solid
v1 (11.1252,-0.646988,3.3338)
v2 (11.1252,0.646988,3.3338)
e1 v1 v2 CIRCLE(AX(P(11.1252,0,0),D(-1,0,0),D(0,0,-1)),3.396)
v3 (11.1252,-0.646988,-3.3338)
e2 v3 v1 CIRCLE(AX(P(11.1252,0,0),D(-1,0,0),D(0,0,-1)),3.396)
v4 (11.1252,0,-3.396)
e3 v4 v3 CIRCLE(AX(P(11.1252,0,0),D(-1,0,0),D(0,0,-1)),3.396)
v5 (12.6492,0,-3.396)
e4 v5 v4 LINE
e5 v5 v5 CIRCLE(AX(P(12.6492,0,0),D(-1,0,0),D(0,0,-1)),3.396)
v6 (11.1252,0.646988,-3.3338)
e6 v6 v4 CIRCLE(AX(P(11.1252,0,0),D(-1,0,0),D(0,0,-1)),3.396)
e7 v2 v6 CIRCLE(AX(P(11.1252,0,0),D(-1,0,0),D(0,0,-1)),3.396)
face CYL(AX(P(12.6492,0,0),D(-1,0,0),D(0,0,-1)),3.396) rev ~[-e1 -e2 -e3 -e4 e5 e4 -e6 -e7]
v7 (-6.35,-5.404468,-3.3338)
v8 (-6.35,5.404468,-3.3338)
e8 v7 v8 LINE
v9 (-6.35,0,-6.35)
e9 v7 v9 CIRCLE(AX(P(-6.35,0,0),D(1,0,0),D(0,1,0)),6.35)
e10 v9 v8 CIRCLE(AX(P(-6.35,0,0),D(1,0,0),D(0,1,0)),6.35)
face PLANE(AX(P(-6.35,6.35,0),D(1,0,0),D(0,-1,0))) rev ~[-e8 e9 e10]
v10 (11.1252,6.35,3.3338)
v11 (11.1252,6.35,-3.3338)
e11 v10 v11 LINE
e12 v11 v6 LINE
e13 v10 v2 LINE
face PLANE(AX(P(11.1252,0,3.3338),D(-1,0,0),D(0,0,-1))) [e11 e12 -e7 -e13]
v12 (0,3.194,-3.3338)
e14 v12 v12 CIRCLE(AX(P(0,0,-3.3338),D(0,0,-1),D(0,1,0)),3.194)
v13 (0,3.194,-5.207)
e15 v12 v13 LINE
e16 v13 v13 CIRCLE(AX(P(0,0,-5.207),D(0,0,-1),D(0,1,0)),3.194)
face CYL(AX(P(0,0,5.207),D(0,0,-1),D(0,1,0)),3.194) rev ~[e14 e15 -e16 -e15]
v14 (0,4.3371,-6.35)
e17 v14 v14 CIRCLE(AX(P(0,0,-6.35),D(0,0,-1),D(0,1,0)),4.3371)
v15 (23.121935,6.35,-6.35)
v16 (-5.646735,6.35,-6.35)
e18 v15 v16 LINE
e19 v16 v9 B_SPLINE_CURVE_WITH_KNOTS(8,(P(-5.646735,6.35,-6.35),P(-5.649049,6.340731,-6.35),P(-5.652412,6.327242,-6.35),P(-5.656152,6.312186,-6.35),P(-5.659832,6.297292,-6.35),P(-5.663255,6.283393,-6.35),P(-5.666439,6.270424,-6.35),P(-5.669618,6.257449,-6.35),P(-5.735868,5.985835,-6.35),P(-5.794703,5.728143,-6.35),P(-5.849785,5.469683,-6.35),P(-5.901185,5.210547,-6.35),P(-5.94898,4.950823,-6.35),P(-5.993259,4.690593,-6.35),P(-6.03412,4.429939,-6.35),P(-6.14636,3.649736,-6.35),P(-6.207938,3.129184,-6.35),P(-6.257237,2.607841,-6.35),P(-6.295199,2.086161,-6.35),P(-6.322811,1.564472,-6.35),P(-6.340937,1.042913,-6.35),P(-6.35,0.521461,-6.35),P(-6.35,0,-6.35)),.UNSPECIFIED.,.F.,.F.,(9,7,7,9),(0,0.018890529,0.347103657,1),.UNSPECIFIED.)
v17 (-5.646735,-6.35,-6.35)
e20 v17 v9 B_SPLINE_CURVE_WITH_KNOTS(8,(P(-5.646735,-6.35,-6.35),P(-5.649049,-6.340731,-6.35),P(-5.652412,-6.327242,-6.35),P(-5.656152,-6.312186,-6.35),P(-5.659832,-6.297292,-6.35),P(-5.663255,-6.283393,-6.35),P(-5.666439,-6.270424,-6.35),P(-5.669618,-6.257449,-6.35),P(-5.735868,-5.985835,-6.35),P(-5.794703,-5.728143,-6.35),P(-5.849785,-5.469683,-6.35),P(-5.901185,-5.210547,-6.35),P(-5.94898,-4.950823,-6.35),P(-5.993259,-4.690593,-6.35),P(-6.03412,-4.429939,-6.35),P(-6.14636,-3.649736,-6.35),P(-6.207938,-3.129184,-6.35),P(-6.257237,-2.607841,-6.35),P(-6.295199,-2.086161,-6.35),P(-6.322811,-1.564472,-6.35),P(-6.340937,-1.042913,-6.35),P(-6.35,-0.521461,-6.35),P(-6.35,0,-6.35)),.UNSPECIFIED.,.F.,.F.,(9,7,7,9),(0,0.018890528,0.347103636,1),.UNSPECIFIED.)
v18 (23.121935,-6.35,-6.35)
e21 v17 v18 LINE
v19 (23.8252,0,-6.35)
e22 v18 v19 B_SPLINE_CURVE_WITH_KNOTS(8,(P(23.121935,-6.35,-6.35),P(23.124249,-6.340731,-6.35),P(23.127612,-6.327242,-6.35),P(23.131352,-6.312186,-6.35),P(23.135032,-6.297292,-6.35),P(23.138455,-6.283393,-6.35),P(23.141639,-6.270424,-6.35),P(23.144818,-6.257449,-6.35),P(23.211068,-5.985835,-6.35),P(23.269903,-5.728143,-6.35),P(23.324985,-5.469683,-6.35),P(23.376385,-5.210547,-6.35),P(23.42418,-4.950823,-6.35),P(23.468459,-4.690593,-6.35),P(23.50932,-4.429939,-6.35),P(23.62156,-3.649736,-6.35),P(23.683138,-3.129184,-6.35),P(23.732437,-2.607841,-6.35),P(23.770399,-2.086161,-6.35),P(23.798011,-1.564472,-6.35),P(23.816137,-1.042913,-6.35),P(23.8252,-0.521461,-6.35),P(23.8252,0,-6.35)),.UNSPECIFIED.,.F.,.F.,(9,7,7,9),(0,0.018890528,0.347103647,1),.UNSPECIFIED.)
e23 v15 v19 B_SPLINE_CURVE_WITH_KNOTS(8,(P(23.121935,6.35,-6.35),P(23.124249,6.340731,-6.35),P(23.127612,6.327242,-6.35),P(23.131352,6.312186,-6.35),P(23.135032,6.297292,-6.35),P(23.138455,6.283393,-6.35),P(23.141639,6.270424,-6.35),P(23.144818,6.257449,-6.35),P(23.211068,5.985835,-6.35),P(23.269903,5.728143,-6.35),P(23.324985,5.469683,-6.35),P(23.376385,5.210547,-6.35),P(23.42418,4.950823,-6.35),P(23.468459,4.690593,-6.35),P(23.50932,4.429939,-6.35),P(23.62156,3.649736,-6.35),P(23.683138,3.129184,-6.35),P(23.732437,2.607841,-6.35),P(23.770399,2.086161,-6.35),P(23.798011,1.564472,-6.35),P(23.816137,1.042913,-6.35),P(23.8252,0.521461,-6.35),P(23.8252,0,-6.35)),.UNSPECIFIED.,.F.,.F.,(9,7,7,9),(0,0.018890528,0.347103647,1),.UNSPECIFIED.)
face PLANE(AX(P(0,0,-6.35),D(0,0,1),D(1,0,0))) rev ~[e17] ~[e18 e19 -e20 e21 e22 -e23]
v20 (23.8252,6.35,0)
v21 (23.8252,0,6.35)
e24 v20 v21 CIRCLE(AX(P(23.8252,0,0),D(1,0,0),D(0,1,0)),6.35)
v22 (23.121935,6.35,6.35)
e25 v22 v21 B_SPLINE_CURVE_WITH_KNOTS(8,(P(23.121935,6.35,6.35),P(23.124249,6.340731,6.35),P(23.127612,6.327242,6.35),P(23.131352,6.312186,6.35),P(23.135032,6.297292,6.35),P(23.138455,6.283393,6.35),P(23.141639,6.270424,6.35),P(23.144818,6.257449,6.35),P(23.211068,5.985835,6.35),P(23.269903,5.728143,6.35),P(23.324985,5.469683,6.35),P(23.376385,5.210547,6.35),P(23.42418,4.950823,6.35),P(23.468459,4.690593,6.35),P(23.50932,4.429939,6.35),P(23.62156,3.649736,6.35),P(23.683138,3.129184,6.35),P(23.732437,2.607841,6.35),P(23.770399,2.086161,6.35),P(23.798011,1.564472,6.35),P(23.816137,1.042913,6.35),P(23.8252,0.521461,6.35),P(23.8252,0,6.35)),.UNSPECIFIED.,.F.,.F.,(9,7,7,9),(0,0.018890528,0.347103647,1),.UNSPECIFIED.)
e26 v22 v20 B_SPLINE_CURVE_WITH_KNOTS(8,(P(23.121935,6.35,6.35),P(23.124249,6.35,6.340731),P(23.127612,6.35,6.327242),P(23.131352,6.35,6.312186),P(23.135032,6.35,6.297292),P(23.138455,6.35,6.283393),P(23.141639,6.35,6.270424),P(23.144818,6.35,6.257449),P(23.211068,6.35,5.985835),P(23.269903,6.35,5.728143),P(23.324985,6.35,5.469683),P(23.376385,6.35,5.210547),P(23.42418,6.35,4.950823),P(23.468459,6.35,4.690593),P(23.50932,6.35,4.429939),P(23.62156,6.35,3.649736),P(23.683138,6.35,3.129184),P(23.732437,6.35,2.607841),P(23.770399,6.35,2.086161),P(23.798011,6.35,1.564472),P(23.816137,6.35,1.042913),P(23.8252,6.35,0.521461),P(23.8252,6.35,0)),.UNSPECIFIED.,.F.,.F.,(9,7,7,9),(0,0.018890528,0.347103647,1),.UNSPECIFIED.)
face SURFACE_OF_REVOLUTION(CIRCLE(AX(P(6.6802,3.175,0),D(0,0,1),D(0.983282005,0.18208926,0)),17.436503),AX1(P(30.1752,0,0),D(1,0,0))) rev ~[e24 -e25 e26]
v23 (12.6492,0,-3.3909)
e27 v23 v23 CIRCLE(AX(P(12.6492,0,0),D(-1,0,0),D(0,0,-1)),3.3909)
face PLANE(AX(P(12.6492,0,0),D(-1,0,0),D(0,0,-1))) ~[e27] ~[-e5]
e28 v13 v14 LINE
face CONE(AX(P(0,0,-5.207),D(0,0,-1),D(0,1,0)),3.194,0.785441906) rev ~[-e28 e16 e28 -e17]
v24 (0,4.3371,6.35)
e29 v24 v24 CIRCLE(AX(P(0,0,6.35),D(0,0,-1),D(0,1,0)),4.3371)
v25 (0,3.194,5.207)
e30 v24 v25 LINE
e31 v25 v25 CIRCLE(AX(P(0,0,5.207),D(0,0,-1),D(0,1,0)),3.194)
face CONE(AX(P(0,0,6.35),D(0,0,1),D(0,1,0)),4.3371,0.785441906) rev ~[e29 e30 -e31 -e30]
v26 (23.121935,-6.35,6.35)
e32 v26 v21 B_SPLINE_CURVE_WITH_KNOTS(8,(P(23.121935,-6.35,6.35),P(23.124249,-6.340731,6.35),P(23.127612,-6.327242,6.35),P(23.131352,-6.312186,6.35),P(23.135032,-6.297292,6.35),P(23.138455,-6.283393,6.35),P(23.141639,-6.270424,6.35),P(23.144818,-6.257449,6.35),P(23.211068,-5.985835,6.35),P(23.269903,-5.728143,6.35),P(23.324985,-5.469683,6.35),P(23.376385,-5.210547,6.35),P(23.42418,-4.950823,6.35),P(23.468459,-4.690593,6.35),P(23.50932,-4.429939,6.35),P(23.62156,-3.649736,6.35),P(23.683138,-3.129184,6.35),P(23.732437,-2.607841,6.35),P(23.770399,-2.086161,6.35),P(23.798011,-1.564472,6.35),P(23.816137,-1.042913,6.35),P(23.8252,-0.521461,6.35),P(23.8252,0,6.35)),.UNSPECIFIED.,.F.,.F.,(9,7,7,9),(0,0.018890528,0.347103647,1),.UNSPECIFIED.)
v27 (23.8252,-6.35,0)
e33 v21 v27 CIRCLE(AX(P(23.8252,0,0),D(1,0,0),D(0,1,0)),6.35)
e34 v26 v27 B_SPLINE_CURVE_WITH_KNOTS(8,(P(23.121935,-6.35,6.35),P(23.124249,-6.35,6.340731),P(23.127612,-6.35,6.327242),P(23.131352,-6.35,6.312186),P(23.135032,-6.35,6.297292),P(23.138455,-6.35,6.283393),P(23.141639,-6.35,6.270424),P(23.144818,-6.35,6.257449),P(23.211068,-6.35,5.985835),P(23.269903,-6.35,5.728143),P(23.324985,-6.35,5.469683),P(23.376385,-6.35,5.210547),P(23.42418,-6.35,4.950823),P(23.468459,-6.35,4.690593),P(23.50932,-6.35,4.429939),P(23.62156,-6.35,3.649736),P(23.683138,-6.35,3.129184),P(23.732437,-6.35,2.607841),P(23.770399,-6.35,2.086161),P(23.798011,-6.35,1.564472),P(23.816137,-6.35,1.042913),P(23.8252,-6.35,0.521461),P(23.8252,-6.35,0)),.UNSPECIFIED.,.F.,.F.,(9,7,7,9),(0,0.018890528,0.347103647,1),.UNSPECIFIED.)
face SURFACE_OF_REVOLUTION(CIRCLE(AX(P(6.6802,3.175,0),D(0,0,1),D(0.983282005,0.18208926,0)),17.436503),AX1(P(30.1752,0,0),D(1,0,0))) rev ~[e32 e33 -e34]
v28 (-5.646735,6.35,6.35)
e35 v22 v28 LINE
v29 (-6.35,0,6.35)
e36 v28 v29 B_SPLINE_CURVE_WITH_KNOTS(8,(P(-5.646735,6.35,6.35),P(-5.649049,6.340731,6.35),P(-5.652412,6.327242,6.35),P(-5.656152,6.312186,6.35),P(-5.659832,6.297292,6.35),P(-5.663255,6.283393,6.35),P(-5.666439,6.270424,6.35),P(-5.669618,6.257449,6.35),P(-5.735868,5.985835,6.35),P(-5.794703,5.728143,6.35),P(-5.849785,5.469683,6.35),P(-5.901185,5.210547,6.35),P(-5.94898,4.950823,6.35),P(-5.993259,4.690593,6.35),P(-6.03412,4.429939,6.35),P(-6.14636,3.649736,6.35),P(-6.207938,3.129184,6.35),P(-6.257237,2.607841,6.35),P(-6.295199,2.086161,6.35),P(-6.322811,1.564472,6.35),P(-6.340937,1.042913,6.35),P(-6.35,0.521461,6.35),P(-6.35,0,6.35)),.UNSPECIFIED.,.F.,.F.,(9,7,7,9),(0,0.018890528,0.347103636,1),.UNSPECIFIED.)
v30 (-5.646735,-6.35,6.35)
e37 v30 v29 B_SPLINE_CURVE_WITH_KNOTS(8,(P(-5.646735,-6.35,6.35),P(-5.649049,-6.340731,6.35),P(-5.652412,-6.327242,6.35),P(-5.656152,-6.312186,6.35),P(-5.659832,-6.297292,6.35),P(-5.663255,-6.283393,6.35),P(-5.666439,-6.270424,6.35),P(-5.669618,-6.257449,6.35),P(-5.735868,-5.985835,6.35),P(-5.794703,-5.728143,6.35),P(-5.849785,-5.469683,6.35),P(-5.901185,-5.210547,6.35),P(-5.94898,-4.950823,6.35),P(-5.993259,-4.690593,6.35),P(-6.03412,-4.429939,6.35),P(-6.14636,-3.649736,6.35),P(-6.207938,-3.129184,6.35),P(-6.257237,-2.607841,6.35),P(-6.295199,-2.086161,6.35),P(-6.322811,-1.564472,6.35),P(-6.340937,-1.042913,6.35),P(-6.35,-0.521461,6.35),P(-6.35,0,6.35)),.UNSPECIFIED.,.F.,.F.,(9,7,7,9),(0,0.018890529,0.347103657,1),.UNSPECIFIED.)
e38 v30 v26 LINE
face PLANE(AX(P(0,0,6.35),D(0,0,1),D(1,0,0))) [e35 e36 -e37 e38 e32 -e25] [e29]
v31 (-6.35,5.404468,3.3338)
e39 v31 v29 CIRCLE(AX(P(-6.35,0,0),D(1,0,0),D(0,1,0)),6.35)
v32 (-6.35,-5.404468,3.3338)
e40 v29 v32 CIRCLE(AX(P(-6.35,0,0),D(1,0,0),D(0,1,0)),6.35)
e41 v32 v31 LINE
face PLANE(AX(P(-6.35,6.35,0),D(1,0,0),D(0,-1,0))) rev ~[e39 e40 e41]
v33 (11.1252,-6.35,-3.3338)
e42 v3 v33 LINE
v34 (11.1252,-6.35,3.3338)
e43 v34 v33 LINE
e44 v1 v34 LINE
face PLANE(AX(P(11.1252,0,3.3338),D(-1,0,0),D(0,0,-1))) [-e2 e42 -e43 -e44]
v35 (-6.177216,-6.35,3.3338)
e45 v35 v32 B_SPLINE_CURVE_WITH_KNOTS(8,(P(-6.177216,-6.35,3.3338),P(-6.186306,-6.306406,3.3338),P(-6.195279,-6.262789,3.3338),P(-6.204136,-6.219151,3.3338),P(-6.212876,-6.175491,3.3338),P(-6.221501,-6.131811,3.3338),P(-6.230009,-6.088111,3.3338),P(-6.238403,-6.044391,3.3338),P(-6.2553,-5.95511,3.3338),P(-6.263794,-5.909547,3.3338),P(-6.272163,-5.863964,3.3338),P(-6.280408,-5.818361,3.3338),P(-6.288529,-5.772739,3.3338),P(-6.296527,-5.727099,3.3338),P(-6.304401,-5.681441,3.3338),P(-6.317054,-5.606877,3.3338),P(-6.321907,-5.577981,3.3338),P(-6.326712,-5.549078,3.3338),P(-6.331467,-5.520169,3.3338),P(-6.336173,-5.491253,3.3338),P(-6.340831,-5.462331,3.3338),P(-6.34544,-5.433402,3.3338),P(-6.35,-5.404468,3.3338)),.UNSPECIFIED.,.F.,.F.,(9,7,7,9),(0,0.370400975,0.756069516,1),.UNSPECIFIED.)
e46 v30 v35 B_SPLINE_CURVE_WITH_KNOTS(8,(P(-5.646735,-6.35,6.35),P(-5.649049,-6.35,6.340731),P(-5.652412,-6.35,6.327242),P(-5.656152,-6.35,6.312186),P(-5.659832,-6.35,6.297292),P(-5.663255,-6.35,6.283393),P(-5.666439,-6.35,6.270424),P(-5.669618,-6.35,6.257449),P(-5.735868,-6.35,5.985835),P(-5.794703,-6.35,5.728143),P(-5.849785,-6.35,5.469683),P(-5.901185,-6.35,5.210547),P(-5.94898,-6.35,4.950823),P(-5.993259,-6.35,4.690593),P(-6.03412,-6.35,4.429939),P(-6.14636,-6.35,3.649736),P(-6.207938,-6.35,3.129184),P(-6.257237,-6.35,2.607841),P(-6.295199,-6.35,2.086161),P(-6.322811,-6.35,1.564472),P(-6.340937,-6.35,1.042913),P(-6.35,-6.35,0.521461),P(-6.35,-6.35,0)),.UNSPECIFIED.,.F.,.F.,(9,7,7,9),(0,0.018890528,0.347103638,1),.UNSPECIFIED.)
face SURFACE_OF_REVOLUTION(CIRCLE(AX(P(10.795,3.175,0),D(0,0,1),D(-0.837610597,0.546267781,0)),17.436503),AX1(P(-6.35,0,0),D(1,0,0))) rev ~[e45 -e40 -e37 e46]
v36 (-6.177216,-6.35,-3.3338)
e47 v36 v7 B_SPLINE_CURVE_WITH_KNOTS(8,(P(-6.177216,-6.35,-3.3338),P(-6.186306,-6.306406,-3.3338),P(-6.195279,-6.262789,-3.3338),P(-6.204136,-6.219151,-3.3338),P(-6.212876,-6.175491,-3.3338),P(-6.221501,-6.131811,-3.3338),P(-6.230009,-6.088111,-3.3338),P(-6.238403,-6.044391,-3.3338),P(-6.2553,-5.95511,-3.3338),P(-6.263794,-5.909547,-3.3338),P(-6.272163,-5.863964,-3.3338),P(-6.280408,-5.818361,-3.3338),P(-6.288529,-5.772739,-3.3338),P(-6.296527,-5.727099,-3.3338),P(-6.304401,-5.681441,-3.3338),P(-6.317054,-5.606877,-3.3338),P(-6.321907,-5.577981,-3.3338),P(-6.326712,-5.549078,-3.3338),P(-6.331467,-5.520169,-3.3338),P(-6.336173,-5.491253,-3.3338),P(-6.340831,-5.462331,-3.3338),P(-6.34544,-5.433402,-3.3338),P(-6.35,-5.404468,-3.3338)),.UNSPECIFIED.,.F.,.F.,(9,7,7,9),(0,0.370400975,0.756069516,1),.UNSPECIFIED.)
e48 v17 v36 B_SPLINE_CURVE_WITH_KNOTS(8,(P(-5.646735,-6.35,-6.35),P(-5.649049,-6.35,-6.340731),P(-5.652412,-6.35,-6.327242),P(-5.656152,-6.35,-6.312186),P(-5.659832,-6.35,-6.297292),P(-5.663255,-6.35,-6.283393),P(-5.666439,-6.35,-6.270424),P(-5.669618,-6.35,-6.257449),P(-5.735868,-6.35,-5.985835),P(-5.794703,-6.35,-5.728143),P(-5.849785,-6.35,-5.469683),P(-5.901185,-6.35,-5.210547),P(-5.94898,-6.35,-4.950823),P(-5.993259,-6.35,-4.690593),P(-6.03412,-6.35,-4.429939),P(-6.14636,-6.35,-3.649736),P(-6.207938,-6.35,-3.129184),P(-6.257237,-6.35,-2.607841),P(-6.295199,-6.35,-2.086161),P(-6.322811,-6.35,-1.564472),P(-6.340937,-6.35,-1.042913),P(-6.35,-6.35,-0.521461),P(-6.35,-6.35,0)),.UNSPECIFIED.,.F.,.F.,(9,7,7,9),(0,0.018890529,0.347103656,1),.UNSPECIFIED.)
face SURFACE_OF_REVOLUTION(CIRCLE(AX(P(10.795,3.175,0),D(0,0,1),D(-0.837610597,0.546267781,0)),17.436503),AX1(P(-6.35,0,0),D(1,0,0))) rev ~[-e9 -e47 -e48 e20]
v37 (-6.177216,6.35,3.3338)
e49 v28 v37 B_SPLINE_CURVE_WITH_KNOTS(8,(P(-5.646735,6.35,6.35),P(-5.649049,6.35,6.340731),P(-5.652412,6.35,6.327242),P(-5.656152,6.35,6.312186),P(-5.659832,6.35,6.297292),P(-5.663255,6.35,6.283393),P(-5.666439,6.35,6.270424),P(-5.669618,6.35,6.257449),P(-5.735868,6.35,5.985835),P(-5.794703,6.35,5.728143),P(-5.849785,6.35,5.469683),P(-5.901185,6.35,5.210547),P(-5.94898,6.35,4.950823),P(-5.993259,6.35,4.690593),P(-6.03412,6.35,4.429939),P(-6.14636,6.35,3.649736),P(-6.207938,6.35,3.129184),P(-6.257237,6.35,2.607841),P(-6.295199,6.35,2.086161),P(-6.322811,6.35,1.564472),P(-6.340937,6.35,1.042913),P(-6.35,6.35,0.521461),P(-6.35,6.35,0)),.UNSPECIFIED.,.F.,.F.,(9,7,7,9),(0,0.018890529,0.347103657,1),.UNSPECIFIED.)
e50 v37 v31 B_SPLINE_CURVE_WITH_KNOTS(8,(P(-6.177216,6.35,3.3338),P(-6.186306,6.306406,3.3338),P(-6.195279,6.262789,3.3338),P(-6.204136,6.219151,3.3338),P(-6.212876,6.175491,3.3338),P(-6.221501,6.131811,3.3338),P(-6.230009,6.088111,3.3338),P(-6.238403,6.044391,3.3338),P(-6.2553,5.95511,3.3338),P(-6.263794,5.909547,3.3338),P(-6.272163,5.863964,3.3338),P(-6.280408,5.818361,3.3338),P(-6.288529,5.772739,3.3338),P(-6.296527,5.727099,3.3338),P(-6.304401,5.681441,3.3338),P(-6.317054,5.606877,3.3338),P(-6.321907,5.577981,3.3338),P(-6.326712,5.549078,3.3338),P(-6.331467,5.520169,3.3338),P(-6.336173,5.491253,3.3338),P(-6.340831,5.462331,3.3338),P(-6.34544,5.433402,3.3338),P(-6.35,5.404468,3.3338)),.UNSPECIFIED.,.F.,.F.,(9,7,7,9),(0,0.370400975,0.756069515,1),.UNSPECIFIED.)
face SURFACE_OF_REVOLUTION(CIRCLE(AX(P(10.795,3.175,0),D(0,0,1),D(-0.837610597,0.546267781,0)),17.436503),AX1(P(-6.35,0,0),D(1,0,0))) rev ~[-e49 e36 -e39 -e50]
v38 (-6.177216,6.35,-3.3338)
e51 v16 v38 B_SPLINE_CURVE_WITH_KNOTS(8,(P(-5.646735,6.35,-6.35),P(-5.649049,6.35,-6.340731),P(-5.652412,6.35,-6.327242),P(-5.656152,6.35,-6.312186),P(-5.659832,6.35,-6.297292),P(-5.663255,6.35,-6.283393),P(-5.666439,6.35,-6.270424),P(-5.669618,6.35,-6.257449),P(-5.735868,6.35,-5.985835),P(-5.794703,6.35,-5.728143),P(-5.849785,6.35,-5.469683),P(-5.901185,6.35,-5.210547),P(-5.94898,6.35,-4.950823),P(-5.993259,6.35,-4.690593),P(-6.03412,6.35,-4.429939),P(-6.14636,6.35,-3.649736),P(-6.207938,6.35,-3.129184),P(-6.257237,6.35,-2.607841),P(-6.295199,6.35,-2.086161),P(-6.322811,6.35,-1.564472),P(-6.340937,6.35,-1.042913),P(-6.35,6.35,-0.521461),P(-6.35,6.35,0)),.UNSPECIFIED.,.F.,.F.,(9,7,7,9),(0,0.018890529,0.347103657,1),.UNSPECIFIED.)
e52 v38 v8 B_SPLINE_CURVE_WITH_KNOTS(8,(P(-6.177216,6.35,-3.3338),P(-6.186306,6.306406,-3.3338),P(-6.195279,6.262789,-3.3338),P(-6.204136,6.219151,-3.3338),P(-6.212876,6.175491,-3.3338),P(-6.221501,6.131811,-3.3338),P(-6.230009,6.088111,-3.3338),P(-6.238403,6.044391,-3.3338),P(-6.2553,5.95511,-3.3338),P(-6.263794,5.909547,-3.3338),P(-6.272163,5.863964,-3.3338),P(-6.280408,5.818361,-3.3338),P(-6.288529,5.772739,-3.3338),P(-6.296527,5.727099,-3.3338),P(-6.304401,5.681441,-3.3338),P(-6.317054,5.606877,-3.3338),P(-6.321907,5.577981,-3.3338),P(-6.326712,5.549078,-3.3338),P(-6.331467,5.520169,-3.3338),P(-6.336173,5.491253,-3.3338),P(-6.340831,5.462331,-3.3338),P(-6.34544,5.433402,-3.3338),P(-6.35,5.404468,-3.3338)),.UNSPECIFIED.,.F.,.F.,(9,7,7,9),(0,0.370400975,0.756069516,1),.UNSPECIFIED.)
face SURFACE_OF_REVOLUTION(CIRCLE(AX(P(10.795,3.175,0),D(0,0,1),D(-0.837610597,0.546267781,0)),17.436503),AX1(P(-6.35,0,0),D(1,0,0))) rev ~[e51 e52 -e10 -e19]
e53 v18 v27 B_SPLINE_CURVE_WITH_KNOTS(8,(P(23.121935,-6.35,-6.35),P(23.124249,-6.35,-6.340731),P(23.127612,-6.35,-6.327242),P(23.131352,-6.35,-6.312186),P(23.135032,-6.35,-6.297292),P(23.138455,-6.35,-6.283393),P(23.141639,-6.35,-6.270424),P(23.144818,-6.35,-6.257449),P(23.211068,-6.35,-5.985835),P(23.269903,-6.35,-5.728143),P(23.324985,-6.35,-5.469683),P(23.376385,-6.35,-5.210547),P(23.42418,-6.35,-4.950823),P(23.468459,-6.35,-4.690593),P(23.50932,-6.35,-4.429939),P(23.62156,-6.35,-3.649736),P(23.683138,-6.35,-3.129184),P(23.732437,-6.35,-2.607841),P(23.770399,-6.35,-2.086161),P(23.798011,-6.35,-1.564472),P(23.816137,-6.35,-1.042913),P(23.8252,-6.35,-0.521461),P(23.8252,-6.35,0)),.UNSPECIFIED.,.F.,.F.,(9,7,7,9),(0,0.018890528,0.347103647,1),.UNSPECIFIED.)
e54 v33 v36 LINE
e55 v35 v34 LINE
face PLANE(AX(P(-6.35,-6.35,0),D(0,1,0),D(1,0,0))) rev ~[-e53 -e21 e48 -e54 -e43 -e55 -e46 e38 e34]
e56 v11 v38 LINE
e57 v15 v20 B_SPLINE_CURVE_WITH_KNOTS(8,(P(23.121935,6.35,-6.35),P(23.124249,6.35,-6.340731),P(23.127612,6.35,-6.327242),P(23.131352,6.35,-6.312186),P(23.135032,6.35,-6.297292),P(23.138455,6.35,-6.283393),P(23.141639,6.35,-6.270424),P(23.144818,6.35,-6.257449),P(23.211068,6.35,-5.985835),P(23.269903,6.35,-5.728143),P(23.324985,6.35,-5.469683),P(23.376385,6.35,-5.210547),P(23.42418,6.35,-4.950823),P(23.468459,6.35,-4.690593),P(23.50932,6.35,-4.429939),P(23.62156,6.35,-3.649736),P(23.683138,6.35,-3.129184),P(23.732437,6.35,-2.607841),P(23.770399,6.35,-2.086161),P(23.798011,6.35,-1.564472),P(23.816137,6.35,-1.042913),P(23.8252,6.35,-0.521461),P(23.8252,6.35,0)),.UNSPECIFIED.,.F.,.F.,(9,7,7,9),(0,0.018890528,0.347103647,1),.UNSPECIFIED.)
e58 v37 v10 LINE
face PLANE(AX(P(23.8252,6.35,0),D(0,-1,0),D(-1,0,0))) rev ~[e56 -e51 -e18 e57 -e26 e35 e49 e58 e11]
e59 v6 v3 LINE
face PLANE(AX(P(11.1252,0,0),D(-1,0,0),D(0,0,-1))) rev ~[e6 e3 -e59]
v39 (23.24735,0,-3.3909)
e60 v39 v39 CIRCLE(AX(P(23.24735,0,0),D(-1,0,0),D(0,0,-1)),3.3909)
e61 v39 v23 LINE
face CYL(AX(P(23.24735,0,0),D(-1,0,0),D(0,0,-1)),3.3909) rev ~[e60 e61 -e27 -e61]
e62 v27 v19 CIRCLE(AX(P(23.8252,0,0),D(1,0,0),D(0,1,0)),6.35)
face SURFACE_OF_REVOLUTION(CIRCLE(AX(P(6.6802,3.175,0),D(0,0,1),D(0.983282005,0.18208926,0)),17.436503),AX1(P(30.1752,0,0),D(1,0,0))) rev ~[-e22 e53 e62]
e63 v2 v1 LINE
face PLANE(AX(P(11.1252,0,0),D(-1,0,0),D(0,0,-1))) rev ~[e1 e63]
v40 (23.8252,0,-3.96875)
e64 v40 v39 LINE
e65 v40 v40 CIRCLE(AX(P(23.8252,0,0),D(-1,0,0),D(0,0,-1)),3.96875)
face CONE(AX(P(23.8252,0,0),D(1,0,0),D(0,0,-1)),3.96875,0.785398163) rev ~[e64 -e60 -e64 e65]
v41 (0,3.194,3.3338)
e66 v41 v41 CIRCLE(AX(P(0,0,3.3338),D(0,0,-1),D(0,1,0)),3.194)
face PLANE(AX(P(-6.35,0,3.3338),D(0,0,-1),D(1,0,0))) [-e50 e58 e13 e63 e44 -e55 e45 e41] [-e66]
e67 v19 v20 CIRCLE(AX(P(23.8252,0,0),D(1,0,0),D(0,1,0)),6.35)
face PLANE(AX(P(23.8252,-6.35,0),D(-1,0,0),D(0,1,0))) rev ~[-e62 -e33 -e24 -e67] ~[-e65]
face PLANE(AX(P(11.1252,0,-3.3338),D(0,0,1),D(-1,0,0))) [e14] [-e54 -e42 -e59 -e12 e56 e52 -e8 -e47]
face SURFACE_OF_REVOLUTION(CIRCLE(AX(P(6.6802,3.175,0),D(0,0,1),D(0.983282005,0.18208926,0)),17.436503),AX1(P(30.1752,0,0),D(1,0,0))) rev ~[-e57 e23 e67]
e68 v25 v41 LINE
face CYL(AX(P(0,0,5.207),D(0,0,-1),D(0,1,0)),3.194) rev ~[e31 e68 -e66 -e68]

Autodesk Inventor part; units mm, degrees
sketch "Sketch_1" plane through (0, 0, 0) normal (0, 0, 1) x (1, 0, 0)
  line L0 (-6.35, 6.35) -> (-6.35, -6.35)
  line L1 (-6.35, -6.35) -> (23.8252, -6.35)
  line L2 (23.8252, -6.35) -> (23.8252, 6.35)
  line L3 (23.8252, 6.35) -> (-6.35, 6.35)
extrude "Extrusion1" add sketch "Sketch_1" along normal mid plane 12.7
sketch "Sketch_2" plane through (0, 0, 0) normal (0, 1, 0) x (-1, 0, 0)
  line L0 (6.35, -3.3338) -> (6.35, 3.3338)
  line L1 (6.35, 3.3338) -> (-11.1252, 3.3338)
  line L2 (-11.1252, 3.3338) -> (-11.1252, -3.3338)
  line L3 (-11.1252, -3.3338) -> (6.35, -3.3338)
extrude "Extrusion2" cut sketch "Sketch_2" along normal mid plane 12.7
sketch "Sketch3" plane through (23.8252, -6.35, 6.35) normal (1, 0, 0) x (0, 0, -1)
  point P0 (6.35, 6.35)
hole "Hole1" at (23.8252, 0, 0) direction (-1, 0, 0) diameter 6.7818 depth 11.176 countersink diameter 7.9375 countersink angle 90 thread size "5/16-24 UNF" class "2B" standard "ANSI Unified Screw Threads"
sketch "Sketch4" plane through (12.6492, 0, 0) normal (1, 0, 0) x (0, 0, -1)
  point P0 (0, 0)
hole "Hole2" at (12.6492, 0, 0) direction (-1, 0, 0) diameter 6.792 depth 1.524
sketch "Sketch_5" plane through (0, 0, 0) normal (1, 0, 0) x (0, 1, 0)
  line L0 (0, -6.35) -> (0, 6.35)
  line L1 (0, 6.35) -> (4.3371, 6.35)
  line L2 (4.3371, 6.35) -> (3.194, 5.207)
  line L3 (3.194, 5.207) -> (3.194, -5.207)
  line L4 (3.194, -5.207) -> (4.3371, -6.35)
  line L5 (4.3371, -6.35) -> (0, -6.35)
  line L6 (0, -6.35) -> (0, 6.35)
revolve "Revolution1" cut sketch "Sketch_5" angle 360 about axis through (0, 0, -6.35) along (0, 0, -1)
sketch "Sketch_9" plane through (0, 0, 0) normal (0, 0, 1) x (1, 0, 0)
  line L0 (30.1752, 0) -> (23.8252, 0)
  line L1 (23.8252, 0) -> (23.8252, 6.35)
  arc A0 (23.8252, 6.35) -> (21.2852, 12.7) centre (6.6802, 3.175) ccw
  line L2 (21.2852, 12.7) -> (30.1752, 12.7)
  line L3 (30.1752, 12.7) -> (30.1752, 0)
  line L4 (30.1752, 0) -> (23.8252, 0)
revolve "Revolution2" cut sketch "Sketch_9" angle 360 about axis through (30.1752, 0, 0) along (1, 0, 0)
sketch "Sketch_10" plane through (0, 0, 0) normal (0, 0, 1) x (1, 0, 0)
  line L0 (-6.35, 0) -> (-12.7, 0)
  line L1 (-12.7, 0) -> (-12.7, 12.7)
  line L2 (-12.7, 12.7) -> (-3.81, 12.7)
  arc A0 (-3.81, 12.7) -> (-6.35, 6.35) centre (10.795, 3.175) ccw
  line L3 (-6.35, 6.35) -> (-6.35, 0)
  line L4 (-6.35, 0) -> (-12.7, 0)
revolve "Revolution3" cut sketch "Sketch_10" angle 360 about axis through (-6.35, 0, 0) along (1, 0, 0)
ref_plane "dummy_XY" through (0, 0, 0) normal (0, 0, 1) x (1, 0, 0)
ref_plane "dummy_YZ" through (0, 0, 0) normal (1, 0, 0) x (0, 1, 0)
ref_plane "dummy_ZX" through (0, 0, 0) normal (0, 1, 0) x (0, 0, 1)
ref_plane "h1_XY" through (-6.35, 6.35, 0) normal (0, 0, 1) x (1, 0, 0)
ref_plane "h1_YZ" through (-6.35, 6.35, 0) normal (1, 0, 0) x (0, 1, 0)
ref_plane "h1_ZX" through (-6.35, 6.35, 0) normal (0, 1, 0) x (0, 0, 1)
ref_plane "h2_XY" through (-6.35, -6.35, 0) normal (0, 0, 1) x (1, 0, 0)
ref_plane "h2_YZ" through (-6.35, -6.35, 0) normal (1, 0, 0) x (0, 1, 0)
ref_plane "h2_ZX" through (-6.35, -6.35, 0) normal (0, 1, 0) x (0, 0, 1)
ref_plane "l1_XY" through (23.8252, 6.35, 0) normal (0, 0, 1) x (1, 0, 0)
ref_plane "l1_YZ" through (23.8252, 6.35, 0) normal (1, 0, 0) x (0, 1, 0)
ref_plane "l1_ZX" through (23.8252, 6.35, 0) normal (0, 1, 0) x (0, 0, 1)
ref_plane "l11_XY" through (23.8252, 6.35, 0) normal (0, 0, 1) x (1, 0, 0)
ref_plane "l11_YZ" through (23.8252, 6.35, 0) normal (1, 0, 0) x (0, 1, 0)
ref_plane "l11_ZX" through (23.8252, 6.35, 0) normal (0, 1, 0) x (0, 0, 1)
ref_plane "l12_XY" through (0, 6.35, 0) normal (0, 0, 1) x (1, 0, 0)
ref_plane "l12_YZ" through (0, 6.35, 0) normal (1, 0, 0) x (0, 1, 0)
ref_plane "l12_ZX" through (0, 6.35, 0) normal (0, 1, 0) x (0, 0, 1)
ref_plane "l2_XY" through (-6.35, 6.35, 0) normal (0, 0, 1) x (1, 0, 0)
ref_plane "l2_YZ" through (-6.35, 6.35, 0) normal (1, 0, 0) x (0, 1, 0)
ref_plane "l2_ZX" through (-6.35, 6.35, 0) normal (0, 1, 0) x (0, 0, 1)
ref_plane "l21_XY" through (23.8252, 0, 0) normal (0, 1, 0) x (1, 0, 0)
ref_plane "l21_YZ" through (23.8252, 0, 0) normal (1, 0, 0) x (0, 0, -1)
ref_plane "l21_ZX" through (23.8252, 0, 0) normal (0, 0, -1) x (0, 1, 0)
ref_plane "l22_XY" through (11.1252, 0, 0) normal (0, 1, 0) x (1, 0, 0)
ref_plane "l22_YZ" through (11.1252, 0, 0) normal (1, 0, 0) x (0, 0, -1)
ref_plane "l22_ZX" through (11.1252, 0, 0) normal (0, 0, -1) x (0, 1, 0)
ref_plane "piston_rod_clevis_XY" through (23.8252, 0, 0) normal (1, 0, 0) x (0, 0, -1)
ref_plane "piston_rod_clevis_YZ" through (23.8252, 0, 0) normal (0, 0, -1) x (0, 1, 0)
ref_plane "piston_rod_clevis_ZX" through (23.8252, 0, 0) normal (0, 1, 0) x (1, 0, 0)
ref_plane "rod_clevis_body_XY" through (0, 0, 0) normal (0, 0, 1) x (1, 0, 0)
ref_plane "rod_clevis_body_YZ" through (0, 0, 0) normal (1, 0, 0) x (0, 1, 0)
ref_plane "rod_clevis_body_ZX" through (0, 0, 0) normal (0, 1, 0) x (0, 0, 1)
ref_plane "th1_XY" through (23.8252, 3.9688, 0) normal (0, 0, 1) x (1, 0, 0)
ref_plane "th1_YZ" through (23.8252, 3.9688, 0) normal (1, 0, 0) x (0, 1, 0)
ref_plane "th1_ZX" through (23.8252, 3.9688, 0) normal (0, 1, 0) x (0, 0, 1)
ref_plane "th2_XY" through (23.8252, -3.9688, 0) normal (0, 0, 1) x (1, 0, 0)
ref_plane "th2_YZ" through (23.8252, -3.9688, 0) normal (1, 0, 0) x (0, 1, 0)
ref_plane "th2_ZX" through (23.8252, -3.9688, 0) normal (0, 1, 0) x (0, 0, 1)
ref_plane "to_cylinder_XY" through (11.1252, 0, 0) normal (1, 0, 0) x (0, 0, -1)
ref_plane "to_cylinder_YZ" through (11.1252, 0, 0) normal (0, 0, -1) x (0, 1, 0)
ref_plane "to_cylinder_ZX" through (11.1252, 0, 0) normal (0, 1, 0) x (1, 0, 0)
ref_plane "w1_XY" through (23.8252, 0, -6.35) normal (0, 1, 0) x (1, 0, 0)
ref_plane "w1_YZ" through (23.8252, 0, -6.35) normal (1, 0, 0) x (0, 0, -1)
ref_plane "w1_ZX" through (23.8252, 0, -6.35) normal (0, 0, -1) x (0, 1, 0)
ref_plane "w11_XY" through (-6.35, 0, -3.3338) normal (0, 1, 0) x (1, 0, 0)
ref_plane "w11_YZ" through (-6.35, 0, -3.3338) normal (1, 0, 0) x (0, 0, -1)
ref_plane "w11_ZX" through (-6.35, 0, -3.3338) normal (0, 0, -1) x (0, 1, 0)
ref_plane "w12_XY" through (-6.35, 0, 3.3338) normal (0, 1, 0) x (1, 0, 0)
ref_plane "w12_YZ" through (-6.35, 0, 3.3338) normal (1, 0, 0) x (0, 0, -1)
ref_plane "w12_ZX" through (-6.35, 0, 3.3338) normal (0, 0, -1) x (0, 1, 0)
ref_plane "w2_XY" through (23.8252, 0, 6.35) normal (0, 1, 0) x (1, 0, 0)
ref_plane "w2_YZ" through (23.8252, 0, 6.35) normal (1, 0, 0) x (0, 0, -1)
ref_plane "w2_ZX" through (23.8252, 0, 6.35) normal (0, 0, -1) x (0, 1, 0)
properties part number "D-14059"
